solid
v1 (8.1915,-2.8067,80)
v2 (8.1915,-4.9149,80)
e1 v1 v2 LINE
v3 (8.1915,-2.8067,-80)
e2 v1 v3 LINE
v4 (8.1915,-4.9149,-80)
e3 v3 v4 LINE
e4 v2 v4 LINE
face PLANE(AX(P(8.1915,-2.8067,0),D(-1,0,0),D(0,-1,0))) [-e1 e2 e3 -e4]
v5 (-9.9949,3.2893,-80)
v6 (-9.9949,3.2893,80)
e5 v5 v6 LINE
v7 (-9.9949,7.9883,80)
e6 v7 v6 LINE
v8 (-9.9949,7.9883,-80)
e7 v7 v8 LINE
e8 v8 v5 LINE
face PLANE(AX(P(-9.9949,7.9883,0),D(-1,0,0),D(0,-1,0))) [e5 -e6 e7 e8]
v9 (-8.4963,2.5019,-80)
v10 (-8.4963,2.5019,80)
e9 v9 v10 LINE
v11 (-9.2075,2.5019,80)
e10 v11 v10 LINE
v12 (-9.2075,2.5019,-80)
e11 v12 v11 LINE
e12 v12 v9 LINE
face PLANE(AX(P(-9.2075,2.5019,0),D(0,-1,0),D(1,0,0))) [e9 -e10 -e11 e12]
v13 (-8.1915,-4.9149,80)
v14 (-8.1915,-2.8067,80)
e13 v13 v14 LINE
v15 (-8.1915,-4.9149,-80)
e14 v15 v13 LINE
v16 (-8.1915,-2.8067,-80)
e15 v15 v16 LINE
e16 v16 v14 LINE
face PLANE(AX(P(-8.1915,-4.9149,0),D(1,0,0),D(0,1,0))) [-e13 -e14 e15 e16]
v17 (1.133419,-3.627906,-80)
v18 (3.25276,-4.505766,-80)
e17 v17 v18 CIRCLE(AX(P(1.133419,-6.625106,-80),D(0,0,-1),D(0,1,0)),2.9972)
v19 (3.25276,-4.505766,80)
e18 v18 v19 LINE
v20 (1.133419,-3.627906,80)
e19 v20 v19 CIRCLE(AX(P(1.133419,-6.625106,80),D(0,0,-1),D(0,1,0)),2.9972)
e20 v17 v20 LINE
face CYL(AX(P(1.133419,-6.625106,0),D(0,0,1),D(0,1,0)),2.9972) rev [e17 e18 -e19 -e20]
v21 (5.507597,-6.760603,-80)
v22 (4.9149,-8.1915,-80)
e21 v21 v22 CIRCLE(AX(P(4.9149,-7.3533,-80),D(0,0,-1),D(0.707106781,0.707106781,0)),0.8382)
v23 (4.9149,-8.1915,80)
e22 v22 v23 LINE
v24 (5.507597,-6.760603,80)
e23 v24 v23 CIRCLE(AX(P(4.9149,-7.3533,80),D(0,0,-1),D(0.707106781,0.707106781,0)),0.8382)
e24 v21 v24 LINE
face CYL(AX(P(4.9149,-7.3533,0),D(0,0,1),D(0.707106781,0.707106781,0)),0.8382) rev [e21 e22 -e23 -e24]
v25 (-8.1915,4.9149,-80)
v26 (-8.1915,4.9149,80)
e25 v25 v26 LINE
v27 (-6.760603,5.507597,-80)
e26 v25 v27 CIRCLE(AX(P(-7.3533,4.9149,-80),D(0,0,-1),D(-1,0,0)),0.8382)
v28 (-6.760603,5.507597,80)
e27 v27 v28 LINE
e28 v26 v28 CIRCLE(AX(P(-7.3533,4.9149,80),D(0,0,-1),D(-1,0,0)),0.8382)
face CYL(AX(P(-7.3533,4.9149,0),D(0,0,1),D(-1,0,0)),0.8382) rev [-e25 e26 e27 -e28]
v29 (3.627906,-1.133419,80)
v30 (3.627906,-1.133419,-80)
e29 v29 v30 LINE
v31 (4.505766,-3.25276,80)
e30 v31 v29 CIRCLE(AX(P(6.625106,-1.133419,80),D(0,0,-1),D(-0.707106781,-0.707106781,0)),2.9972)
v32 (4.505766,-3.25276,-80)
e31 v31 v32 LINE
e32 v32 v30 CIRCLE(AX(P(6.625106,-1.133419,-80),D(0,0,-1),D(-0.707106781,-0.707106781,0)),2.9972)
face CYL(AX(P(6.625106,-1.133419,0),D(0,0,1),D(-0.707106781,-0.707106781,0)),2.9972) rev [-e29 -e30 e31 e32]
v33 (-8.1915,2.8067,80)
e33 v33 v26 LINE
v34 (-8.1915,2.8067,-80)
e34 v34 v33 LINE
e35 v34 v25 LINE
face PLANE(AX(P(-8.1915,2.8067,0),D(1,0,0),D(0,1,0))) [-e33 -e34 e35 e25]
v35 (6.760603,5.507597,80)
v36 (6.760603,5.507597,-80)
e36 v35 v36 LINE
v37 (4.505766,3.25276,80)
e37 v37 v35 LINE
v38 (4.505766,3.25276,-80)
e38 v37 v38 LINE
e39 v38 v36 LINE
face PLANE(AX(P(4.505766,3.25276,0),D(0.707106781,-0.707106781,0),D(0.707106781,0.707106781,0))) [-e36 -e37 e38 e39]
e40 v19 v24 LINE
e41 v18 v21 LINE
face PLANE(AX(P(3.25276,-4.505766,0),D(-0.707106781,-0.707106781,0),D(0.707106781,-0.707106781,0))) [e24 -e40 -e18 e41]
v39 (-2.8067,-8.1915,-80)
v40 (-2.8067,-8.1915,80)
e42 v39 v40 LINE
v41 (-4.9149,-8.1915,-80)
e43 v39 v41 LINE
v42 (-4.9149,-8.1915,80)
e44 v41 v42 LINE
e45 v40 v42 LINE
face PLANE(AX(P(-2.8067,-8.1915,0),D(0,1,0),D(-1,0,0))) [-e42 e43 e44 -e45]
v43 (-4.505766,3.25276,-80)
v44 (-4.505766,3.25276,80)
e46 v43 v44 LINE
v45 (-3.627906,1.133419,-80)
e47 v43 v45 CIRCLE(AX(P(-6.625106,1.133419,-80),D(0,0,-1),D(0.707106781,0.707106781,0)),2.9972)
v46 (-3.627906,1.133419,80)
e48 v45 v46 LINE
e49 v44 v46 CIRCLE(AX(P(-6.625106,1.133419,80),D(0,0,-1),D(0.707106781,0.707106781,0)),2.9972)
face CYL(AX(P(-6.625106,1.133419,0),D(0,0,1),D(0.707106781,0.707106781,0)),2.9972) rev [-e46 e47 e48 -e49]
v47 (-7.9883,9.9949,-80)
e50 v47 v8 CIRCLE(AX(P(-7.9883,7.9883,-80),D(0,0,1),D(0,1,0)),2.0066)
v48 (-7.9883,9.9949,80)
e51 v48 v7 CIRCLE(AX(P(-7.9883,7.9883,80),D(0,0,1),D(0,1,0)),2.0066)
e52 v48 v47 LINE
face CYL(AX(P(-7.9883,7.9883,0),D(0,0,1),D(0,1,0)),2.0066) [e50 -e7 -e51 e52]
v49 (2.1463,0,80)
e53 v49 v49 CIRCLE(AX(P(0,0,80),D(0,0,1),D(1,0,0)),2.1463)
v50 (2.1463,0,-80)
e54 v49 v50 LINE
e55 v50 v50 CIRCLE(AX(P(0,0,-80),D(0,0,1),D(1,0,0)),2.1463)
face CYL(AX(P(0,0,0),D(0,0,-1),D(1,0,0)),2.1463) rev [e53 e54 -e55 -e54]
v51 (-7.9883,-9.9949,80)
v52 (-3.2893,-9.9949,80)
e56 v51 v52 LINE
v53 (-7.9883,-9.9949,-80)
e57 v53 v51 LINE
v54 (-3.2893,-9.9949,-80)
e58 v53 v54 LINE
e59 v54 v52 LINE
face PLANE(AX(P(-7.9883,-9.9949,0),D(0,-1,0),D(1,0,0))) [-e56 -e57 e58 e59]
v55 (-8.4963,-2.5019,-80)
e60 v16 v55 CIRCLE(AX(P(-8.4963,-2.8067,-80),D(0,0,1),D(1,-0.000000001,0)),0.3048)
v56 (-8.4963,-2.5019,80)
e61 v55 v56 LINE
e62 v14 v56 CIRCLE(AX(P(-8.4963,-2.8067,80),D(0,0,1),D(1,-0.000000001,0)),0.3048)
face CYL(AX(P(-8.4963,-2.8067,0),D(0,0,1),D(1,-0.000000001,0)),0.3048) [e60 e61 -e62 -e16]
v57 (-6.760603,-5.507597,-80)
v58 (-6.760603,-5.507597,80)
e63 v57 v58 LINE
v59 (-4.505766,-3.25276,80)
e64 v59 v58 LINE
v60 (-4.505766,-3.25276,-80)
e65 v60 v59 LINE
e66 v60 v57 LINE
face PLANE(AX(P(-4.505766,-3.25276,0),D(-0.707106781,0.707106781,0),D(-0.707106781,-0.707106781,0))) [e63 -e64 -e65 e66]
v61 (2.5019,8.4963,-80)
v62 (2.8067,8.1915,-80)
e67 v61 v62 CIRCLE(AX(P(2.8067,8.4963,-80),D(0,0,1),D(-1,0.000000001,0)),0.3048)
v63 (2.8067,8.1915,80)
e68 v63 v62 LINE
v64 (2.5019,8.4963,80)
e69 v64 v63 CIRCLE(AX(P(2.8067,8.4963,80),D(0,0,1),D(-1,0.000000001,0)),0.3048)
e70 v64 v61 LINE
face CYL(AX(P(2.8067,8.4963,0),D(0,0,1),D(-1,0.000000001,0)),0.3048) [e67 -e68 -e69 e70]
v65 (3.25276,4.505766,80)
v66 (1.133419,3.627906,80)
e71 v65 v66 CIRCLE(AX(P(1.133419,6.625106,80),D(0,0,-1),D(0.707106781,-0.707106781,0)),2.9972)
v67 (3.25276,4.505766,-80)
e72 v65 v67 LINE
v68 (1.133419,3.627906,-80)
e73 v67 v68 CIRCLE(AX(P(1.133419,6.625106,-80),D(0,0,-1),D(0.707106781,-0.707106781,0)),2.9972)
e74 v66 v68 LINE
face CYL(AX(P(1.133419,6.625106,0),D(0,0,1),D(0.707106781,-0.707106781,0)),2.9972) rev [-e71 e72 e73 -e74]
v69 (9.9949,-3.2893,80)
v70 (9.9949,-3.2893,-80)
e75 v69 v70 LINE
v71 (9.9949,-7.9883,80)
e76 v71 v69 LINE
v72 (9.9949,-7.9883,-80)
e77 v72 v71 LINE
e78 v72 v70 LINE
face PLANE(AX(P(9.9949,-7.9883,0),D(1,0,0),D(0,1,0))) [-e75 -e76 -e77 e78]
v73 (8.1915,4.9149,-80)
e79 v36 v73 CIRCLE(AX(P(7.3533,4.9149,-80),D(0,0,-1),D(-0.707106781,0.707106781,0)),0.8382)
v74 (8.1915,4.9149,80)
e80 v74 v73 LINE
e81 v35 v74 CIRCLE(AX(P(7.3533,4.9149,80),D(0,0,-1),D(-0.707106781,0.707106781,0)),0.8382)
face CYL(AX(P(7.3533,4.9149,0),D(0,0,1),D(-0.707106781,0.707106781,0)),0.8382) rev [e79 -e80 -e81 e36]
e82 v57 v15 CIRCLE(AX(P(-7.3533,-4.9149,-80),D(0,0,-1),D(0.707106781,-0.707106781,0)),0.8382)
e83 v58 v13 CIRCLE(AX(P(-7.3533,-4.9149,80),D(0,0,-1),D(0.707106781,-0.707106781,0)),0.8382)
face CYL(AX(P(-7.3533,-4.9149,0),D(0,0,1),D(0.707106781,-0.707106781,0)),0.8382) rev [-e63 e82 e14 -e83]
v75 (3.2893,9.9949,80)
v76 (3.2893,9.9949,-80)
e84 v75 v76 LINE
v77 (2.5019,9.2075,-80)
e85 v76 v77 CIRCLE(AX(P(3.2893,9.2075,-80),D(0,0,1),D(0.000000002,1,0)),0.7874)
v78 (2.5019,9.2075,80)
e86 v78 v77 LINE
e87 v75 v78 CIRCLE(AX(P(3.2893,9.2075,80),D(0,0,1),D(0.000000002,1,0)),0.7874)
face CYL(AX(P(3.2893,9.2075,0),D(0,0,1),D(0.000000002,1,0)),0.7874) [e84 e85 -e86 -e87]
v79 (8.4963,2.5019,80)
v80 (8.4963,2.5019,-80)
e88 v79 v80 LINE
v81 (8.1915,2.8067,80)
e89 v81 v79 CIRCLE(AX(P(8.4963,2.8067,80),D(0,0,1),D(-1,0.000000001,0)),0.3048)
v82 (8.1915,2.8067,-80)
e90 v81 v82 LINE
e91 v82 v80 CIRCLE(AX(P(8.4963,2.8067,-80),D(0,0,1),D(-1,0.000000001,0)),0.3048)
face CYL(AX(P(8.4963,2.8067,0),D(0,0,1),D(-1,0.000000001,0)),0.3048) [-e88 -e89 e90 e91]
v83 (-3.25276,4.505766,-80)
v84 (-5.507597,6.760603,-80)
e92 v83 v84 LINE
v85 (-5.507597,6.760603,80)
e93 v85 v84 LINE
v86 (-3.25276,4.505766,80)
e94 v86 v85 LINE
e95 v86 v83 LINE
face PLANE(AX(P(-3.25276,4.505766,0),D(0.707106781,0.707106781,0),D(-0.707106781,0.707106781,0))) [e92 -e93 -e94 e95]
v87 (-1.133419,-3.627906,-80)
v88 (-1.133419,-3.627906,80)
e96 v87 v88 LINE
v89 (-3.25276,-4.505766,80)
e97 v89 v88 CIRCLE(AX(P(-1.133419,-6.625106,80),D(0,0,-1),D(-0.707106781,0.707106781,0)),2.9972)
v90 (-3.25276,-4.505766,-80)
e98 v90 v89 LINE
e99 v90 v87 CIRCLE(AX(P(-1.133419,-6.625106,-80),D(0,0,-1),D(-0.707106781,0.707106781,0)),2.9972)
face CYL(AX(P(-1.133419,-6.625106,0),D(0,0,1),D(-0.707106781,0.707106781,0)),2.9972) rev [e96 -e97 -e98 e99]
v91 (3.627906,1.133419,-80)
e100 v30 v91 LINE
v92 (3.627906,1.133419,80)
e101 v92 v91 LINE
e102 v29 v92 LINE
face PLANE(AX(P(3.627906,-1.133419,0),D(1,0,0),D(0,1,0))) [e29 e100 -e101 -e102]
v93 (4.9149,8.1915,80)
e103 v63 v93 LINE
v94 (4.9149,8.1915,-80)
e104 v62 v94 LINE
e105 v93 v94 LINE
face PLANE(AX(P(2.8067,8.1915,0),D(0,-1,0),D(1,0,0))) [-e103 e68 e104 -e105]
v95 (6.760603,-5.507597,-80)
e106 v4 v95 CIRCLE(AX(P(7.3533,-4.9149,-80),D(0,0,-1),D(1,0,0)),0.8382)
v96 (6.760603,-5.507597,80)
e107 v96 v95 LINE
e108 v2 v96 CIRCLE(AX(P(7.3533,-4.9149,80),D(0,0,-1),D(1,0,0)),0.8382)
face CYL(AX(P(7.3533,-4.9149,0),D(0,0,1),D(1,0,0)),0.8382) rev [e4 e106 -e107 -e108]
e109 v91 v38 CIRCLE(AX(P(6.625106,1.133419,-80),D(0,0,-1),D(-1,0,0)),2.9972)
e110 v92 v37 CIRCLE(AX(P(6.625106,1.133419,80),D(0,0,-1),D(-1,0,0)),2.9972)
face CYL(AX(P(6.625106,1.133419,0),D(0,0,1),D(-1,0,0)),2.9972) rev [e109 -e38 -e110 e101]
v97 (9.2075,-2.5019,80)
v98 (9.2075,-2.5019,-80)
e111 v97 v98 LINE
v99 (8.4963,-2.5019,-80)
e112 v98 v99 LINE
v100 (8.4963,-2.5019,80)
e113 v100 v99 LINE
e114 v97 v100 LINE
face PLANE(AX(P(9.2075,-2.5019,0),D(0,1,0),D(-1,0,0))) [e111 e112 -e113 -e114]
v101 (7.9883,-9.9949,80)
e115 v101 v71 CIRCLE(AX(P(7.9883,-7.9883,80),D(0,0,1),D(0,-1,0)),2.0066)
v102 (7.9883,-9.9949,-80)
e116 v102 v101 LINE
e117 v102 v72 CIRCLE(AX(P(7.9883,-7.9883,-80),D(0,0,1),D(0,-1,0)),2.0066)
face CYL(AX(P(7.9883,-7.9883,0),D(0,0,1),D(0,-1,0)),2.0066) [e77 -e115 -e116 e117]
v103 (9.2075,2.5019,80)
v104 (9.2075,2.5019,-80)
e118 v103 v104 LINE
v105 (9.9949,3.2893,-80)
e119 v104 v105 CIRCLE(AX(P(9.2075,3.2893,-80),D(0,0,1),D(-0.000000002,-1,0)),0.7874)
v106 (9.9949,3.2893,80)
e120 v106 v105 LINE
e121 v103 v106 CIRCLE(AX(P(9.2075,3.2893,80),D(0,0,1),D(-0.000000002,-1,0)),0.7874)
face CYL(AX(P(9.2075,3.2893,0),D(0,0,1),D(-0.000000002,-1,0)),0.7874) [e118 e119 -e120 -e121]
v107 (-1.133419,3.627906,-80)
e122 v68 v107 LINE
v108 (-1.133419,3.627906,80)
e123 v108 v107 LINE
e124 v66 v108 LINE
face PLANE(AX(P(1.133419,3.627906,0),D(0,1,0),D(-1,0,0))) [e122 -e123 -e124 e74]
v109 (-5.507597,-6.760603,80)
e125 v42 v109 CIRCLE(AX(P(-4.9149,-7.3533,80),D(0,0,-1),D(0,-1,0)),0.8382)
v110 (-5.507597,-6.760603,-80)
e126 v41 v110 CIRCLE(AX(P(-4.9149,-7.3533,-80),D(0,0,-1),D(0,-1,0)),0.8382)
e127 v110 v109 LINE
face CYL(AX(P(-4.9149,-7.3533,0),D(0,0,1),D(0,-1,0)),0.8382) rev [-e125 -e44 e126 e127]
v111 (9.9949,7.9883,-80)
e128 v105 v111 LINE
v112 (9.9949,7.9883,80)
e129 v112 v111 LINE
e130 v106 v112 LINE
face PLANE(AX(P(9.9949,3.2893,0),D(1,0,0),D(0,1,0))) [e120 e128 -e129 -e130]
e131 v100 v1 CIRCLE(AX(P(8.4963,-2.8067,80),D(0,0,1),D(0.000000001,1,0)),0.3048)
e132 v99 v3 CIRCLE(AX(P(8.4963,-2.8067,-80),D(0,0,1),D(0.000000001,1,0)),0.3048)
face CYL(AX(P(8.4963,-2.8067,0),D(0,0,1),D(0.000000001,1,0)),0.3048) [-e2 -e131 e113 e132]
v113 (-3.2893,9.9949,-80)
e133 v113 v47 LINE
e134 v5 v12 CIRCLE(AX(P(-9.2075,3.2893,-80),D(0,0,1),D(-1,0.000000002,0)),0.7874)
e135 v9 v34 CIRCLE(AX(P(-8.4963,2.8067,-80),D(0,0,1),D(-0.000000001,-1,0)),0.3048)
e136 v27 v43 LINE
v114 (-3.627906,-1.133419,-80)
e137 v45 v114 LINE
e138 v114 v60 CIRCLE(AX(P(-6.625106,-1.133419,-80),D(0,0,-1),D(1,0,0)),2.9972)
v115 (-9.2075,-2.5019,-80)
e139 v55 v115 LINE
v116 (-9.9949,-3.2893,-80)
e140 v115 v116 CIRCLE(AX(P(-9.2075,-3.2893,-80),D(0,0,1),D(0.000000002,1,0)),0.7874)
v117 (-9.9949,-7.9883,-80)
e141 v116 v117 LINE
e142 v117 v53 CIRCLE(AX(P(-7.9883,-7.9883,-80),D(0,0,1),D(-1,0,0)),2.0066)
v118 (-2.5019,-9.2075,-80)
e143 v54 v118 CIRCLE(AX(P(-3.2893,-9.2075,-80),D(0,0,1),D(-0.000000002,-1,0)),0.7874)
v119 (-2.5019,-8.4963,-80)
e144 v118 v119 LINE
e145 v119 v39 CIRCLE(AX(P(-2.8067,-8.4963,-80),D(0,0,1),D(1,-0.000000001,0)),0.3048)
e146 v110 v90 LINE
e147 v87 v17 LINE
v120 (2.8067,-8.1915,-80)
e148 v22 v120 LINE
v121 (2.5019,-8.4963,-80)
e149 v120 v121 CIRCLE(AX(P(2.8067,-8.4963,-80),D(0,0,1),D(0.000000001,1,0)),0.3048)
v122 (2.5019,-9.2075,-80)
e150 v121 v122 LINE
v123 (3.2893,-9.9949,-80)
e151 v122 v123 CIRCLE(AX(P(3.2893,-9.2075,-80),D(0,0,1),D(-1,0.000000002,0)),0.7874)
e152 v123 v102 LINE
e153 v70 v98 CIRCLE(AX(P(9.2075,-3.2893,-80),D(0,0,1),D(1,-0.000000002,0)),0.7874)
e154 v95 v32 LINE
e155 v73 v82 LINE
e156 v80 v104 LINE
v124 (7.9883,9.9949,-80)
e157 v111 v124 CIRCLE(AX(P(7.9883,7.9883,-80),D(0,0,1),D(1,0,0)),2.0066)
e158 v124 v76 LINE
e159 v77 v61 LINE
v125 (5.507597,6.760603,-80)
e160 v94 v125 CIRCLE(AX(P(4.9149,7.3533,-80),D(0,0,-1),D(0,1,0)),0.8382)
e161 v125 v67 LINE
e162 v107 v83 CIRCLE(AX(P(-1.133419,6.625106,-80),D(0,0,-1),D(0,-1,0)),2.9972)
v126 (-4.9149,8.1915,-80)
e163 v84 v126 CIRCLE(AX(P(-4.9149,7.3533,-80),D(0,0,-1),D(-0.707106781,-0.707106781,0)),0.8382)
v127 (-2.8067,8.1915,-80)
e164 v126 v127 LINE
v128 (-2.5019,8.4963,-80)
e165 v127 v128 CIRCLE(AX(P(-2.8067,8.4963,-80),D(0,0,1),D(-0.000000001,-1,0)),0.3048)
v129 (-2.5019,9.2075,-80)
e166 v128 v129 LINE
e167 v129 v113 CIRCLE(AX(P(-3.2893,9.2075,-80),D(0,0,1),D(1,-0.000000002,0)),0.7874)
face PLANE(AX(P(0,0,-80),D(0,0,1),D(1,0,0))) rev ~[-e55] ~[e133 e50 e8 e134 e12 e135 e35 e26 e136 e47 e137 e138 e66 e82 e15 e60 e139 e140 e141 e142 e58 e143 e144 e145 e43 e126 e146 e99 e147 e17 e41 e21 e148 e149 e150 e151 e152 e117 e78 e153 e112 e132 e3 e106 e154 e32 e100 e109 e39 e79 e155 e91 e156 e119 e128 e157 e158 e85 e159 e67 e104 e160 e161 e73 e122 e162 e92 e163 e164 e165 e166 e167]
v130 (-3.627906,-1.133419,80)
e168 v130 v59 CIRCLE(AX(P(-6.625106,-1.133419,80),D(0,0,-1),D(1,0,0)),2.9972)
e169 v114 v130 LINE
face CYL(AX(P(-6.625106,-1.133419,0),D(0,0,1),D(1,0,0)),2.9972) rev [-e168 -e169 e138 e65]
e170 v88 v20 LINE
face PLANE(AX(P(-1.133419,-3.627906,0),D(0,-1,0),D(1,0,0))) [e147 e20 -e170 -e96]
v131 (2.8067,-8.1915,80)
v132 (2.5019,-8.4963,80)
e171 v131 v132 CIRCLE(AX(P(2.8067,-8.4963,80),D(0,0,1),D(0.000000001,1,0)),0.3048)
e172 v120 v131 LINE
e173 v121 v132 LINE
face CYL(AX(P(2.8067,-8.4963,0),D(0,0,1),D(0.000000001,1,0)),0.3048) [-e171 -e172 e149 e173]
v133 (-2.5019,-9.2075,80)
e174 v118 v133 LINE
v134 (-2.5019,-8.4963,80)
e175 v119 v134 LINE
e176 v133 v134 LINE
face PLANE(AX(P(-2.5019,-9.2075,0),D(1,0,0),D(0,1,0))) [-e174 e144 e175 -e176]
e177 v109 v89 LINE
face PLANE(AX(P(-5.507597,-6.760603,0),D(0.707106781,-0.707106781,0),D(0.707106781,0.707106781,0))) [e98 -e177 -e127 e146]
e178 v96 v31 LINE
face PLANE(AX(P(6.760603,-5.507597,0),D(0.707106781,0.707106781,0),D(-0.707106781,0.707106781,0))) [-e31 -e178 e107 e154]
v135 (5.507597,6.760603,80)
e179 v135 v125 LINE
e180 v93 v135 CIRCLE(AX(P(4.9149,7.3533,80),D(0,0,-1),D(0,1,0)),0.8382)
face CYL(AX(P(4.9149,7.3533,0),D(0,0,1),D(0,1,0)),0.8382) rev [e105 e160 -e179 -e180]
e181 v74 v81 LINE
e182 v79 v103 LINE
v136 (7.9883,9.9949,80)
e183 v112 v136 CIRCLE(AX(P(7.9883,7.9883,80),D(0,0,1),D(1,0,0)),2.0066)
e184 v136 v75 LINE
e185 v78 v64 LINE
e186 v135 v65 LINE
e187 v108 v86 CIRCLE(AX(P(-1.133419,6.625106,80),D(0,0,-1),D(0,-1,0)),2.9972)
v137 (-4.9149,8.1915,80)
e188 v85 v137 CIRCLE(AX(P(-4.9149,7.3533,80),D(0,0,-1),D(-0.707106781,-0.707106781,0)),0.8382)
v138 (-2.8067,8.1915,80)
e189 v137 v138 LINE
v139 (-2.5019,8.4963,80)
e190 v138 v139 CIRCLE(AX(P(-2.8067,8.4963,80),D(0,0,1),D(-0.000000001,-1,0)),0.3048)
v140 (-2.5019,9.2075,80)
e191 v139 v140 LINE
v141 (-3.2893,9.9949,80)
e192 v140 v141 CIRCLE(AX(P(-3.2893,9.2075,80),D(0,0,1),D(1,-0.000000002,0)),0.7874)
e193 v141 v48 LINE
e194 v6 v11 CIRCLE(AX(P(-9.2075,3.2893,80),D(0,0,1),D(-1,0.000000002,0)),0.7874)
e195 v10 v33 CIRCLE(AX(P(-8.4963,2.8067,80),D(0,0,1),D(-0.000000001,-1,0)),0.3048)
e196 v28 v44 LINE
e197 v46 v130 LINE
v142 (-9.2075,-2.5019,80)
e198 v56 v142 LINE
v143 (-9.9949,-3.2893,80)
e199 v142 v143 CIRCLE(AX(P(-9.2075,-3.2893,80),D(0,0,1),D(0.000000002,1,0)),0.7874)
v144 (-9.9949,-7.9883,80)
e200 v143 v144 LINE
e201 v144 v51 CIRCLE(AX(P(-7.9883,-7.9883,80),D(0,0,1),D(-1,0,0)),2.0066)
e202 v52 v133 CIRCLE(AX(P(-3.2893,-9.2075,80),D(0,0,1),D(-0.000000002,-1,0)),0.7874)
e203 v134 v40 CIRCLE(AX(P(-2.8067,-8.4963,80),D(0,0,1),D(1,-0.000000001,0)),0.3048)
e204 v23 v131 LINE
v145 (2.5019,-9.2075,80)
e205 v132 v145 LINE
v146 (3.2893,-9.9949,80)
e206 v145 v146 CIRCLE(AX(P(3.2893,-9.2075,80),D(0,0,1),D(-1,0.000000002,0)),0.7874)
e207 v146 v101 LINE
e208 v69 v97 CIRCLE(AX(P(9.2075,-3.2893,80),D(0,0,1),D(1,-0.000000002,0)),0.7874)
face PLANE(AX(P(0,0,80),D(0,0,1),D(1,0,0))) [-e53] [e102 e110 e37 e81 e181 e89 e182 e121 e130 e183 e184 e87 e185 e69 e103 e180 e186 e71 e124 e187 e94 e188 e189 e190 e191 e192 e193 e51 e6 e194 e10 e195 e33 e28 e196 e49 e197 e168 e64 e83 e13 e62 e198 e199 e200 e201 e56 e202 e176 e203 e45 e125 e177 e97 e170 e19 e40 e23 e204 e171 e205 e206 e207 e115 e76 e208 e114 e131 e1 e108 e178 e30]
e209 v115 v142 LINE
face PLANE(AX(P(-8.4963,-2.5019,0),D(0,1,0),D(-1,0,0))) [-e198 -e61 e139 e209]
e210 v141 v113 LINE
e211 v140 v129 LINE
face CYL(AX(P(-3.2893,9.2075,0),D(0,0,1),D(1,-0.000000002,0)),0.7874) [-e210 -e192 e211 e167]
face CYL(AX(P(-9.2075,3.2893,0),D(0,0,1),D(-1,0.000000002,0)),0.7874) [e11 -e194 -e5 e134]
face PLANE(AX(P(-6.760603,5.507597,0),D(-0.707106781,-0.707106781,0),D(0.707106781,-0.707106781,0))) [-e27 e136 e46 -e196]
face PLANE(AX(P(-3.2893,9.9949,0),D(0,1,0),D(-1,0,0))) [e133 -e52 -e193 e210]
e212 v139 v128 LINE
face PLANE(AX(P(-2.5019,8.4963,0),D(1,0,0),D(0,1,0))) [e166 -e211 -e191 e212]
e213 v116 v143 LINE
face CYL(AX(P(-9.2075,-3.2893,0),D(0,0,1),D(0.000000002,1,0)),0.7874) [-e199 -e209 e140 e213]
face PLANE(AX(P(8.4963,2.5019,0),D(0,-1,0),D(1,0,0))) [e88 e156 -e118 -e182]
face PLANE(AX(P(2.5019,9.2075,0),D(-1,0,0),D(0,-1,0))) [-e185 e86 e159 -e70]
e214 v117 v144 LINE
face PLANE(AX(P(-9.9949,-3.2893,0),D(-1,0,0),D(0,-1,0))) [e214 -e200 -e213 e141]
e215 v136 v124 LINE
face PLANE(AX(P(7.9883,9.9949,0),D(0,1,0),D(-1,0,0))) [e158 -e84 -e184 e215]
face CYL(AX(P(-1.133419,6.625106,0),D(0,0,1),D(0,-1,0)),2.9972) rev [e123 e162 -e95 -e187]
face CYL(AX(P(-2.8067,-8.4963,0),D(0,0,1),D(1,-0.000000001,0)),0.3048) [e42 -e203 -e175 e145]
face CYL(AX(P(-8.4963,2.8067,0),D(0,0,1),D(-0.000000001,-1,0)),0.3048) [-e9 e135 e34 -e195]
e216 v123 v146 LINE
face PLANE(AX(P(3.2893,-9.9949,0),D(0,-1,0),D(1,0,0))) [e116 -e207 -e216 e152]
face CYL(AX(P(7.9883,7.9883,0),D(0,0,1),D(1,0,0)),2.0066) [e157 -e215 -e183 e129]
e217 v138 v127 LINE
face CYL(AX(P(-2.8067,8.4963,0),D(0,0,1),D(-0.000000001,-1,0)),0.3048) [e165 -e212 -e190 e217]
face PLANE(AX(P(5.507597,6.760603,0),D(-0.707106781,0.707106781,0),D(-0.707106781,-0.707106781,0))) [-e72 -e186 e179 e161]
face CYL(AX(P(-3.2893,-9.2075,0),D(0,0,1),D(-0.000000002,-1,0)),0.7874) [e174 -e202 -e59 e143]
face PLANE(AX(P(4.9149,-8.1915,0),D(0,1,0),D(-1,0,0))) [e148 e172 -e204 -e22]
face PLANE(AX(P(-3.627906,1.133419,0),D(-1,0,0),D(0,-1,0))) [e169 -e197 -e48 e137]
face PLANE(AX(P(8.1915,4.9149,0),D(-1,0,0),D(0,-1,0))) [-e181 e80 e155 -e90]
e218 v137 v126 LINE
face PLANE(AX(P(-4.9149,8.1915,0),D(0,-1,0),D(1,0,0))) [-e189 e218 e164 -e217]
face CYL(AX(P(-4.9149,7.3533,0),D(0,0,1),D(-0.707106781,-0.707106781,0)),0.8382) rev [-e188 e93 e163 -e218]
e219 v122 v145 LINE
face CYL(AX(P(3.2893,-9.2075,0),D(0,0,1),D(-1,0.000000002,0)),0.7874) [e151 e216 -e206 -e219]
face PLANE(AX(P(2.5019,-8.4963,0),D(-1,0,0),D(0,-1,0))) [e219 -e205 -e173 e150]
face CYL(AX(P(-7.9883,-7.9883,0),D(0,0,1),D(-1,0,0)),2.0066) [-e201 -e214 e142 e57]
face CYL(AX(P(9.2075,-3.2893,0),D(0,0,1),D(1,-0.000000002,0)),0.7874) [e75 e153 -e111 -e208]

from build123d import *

# Parameters (mm, degrees)
SKETCH1_R           = 2.1463
BOSS_EXTRUDE1_DEPTH = 80


with BuildPart() as part:
    # Sketch1 → Boss-Extrude1 (new body, symmetric)
    with BuildSketch(Plane.XY):
        with BuildLine():
            Line((-9.9949, 7.9883), (-9.9949, 3.2893))
            ThreePointArc((-9.9949, 3.2893), (-9.76427588, 2.73252412), (-9.2075, 2.5019))
            Line((-9.2075, 2.5019), (-8.4963, 2.5019))
            ThreePointArc((-8.4963, 2.5019), (-8.280773853, 2.591173853), (-8.1915, 2.8067))
            Line((-8.1915, 2.8067), (-8.1915, 4.9149))
            ThreePointArc((-8.1915, 4.9149), (-7.674065253, 5.689295824), (-6.760603096, 5.507596904))
            Line((-6.760603096, 5.507596904), (-4.505765747, 3.252759555))
            ThreePointArc((-4.505765747, 3.252759555), (-3.856054457, 2.280397894), (-3.627906192, 1.133419111))
            Line((-3.627906192, 1.133419111), (-3.627906192, -1.133419111))
            ThreePointArc((-3.627906192, -1.133419111), (-3.856054457, -2.280397894), (-4.505765747, -3.252759555))
            Line((-4.505765747, -3.252759555), (-6.760603096, -5.507596904))
            ThreePointArc((-6.760603096, -5.507596904), (-7.674065253, -5.689295824), (-8.1915, -4.9149))
            Line((-8.1915, -4.9149), (-8.1915, -2.8067))
            ThreePointArc((-8.1915, -2.8067), (-8.280773853, -2.591173853), (-8.4963, -2.5019))
            Line((-8.4963, -2.5019), (-9.2075, -2.5019))
            ThreePointArc((-9.2075, -2.5019), (-9.76427588, -2.73252412), (-9.9949, -3.2893))
            Line((-9.9949, -3.2893), (-9.9949, -7.9883))
            ThreePointArc((-9.9949, -7.9883), (-9.407180467, -9.407180467), (-7.9883, -9.9949))
            Line((-7.9883, -9.9949), (-3.2893, -9.9949))
            ThreePointArc((-3.2893, -9.9949), (-2.73252412, -9.76427588), (-2.5019, -9.2075))
            Line((-2.5019, -9.2075), (-2.5019, -8.4963))
            ThreePointArc((-2.5019, -8.4963), (-2.591173853, -8.280773853), (-2.8067, -8.1915))
            Line((-2.8067, -8.1915), (-4.9149, -8.1915))
            ThreePointArc((-4.9149, -8.1915), (-5.689295824, -7.674065253), (-5.507596904, -6.760603096))
            Line((-5.507596904, -6.760603096), (-3.252759555, -4.505765747))
            ThreePointArc((-3.252759555, -4.505765747), (-2.280397894, -3.856054457), (-1.133419111, -3.627906192))
            Line((-1.133419111, -3.627906192), (1.133419111, -3.627906192))
            ThreePointArc((1.133419111, -3.627906192), (2.280397894, -3.856054457), (3.252759555, -4.505765747))
            Line((3.252759555, -4.505765747), (5.507596904, -6.760603096))
            ThreePointArc((5.507596904, -6.760603096), (5.689295824, -7.674065253), (4.9149, -8.1915))
            Line((4.9149, -8.1915), (2.8067, -8.1915))
            ThreePointArc((2.8067, -8.1915), (2.591173853, -8.280773853), (2.5019, -8.4963))
            Line((2.5019, -8.4963), (2.5019, -9.2075))
            ThreePointArc((2.5019, -9.2075), (2.73252412, -9.76427588), (3.2893, -9.9949))
            Line((3.2893, -9.9949), (7.9883, -9.9949))
            ThreePointArc((7.9883, -9.9949), (9.407180467, -9.407180467), (9.9949, -7.9883))
            Line((9.9949, -7.9883), (9.9949, -3.2893))
            ThreePointArc((9.9949, -3.2893), (9.76427588, -2.73252412), (9.2075, -2.5019))
            Line((9.2075, -2.5019), (8.4963, -2.5019))
            ThreePointArc((8.4963, -2.5019), (8.280773853, -2.591173853), (8.1915, -2.8067))
            Line((8.1915, -2.8067), (8.1915, -4.9149))
            ThreePointArc((8.1915, -4.9149), (7.674065253, -5.689295824), (6.760603096, -5.507596904))
            Line((6.760603096, -5.507596904), (4.505765747, -3.252759555))
            ThreePointArc((4.505765747, -3.252759555), (3.856054457, -2.280397894), (3.627906192, -1.133419111))
            Line((3.627906192, -1.133419111), (3.627906192, 1.133419111))
            ThreePointArc((3.627906192, 1.133419111), (3.856054457, 2.280397894), (4.505765747, 3.252759555))
            Line((4.505765747, 3.252759555), (6.760603096, 5.507596904))
            ThreePointArc((6.760603096, 5.507596904), (7.674065253, 5.689295824), (8.1915, 4.9149))
            Line((8.1915, 4.9149), (8.1915, 2.8067))
            ThreePointArc((8.1915, 2.8067), (8.280773853, 2.591173853), (8.4963, 2.5019))
            Line((8.4963, 2.5019), (9.2075, 2.5019))
            ThreePointArc((9.2075, 2.5019), (9.76427588, 2.73252412), (9.9949, 3.2893))
            Line((9.9949, 3.2893), (9.9949, 7.9883))
            ThreePointArc((9.9949, 7.9883), (9.407180467, 9.407180467), (7.9883, 9.9949))
            Line((7.9883, 9.9949), (3.2893, 9.9949))
            ThreePointArc((3.2893, 9.9949), (2.73252412, 9.76427588), (2.5019, 9.2075))
            Line((2.5019, 9.2075), (2.5019, 8.4963))
            ThreePointArc((2.5019, 8.4963), (2.591173853, 8.280773853), (2.8067, 8.1915))
            Line((2.8067, 8.1915), (4.9149, 8.1915))
            ThreePointArc((4.9149, 8.1915), (5.689295824, 7.674065253), (5.507596904, 6.760603096))
            Line((5.507596904, 6.760603096), (3.252759555, 4.505765747))
            ThreePointArc((3.252759555, 4.505765747), (2.280397894, 3.856054457), (1.133419111, 3.627906192))
            Line((1.133419111, 3.627906192), (-1.133419111, 3.627906192))
            ThreePointArc((-1.133419111, 3.627906192), (-2.280397894, 3.856054457), (-3.252759555, 4.505765747))
            Line((-3.252759555, 4.505765747), (-5.507596904, 6.760603096))
            ThreePointArc((-5.507596904, 6.760603096), (-5.689295824, 7.674065253), (-4.9149, 8.1915))
            Line((-4.9149, 8.1915), (-2.8067, 8.1915))
            ThreePointArc((-2.8067, 8.1915), (-2.591173853, 8.280773853), (-2.5019, 8.4963))
            Line((-2.5019, 8.4963), (-2.5019, 9.2075))
            ThreePointArc((-2.5019, 9.2075), (-2.73252412, 9.76427588), (-3.2893, 9.9949))
            Line((-3.2893, 9.9949), (-7.9883, 9.9949))
            ThreePointArc((-7.9883, 9.9949), (-9.407180467, 9.407180467), (-9.9949, 7.9883))
        make_face()
        Circle(SKETCH1_R, mode=Mode.SUBTRACT)
    extrude(amount=BOSS_EXTRUDE1_DEPTH, both=True)


solid = part.part
